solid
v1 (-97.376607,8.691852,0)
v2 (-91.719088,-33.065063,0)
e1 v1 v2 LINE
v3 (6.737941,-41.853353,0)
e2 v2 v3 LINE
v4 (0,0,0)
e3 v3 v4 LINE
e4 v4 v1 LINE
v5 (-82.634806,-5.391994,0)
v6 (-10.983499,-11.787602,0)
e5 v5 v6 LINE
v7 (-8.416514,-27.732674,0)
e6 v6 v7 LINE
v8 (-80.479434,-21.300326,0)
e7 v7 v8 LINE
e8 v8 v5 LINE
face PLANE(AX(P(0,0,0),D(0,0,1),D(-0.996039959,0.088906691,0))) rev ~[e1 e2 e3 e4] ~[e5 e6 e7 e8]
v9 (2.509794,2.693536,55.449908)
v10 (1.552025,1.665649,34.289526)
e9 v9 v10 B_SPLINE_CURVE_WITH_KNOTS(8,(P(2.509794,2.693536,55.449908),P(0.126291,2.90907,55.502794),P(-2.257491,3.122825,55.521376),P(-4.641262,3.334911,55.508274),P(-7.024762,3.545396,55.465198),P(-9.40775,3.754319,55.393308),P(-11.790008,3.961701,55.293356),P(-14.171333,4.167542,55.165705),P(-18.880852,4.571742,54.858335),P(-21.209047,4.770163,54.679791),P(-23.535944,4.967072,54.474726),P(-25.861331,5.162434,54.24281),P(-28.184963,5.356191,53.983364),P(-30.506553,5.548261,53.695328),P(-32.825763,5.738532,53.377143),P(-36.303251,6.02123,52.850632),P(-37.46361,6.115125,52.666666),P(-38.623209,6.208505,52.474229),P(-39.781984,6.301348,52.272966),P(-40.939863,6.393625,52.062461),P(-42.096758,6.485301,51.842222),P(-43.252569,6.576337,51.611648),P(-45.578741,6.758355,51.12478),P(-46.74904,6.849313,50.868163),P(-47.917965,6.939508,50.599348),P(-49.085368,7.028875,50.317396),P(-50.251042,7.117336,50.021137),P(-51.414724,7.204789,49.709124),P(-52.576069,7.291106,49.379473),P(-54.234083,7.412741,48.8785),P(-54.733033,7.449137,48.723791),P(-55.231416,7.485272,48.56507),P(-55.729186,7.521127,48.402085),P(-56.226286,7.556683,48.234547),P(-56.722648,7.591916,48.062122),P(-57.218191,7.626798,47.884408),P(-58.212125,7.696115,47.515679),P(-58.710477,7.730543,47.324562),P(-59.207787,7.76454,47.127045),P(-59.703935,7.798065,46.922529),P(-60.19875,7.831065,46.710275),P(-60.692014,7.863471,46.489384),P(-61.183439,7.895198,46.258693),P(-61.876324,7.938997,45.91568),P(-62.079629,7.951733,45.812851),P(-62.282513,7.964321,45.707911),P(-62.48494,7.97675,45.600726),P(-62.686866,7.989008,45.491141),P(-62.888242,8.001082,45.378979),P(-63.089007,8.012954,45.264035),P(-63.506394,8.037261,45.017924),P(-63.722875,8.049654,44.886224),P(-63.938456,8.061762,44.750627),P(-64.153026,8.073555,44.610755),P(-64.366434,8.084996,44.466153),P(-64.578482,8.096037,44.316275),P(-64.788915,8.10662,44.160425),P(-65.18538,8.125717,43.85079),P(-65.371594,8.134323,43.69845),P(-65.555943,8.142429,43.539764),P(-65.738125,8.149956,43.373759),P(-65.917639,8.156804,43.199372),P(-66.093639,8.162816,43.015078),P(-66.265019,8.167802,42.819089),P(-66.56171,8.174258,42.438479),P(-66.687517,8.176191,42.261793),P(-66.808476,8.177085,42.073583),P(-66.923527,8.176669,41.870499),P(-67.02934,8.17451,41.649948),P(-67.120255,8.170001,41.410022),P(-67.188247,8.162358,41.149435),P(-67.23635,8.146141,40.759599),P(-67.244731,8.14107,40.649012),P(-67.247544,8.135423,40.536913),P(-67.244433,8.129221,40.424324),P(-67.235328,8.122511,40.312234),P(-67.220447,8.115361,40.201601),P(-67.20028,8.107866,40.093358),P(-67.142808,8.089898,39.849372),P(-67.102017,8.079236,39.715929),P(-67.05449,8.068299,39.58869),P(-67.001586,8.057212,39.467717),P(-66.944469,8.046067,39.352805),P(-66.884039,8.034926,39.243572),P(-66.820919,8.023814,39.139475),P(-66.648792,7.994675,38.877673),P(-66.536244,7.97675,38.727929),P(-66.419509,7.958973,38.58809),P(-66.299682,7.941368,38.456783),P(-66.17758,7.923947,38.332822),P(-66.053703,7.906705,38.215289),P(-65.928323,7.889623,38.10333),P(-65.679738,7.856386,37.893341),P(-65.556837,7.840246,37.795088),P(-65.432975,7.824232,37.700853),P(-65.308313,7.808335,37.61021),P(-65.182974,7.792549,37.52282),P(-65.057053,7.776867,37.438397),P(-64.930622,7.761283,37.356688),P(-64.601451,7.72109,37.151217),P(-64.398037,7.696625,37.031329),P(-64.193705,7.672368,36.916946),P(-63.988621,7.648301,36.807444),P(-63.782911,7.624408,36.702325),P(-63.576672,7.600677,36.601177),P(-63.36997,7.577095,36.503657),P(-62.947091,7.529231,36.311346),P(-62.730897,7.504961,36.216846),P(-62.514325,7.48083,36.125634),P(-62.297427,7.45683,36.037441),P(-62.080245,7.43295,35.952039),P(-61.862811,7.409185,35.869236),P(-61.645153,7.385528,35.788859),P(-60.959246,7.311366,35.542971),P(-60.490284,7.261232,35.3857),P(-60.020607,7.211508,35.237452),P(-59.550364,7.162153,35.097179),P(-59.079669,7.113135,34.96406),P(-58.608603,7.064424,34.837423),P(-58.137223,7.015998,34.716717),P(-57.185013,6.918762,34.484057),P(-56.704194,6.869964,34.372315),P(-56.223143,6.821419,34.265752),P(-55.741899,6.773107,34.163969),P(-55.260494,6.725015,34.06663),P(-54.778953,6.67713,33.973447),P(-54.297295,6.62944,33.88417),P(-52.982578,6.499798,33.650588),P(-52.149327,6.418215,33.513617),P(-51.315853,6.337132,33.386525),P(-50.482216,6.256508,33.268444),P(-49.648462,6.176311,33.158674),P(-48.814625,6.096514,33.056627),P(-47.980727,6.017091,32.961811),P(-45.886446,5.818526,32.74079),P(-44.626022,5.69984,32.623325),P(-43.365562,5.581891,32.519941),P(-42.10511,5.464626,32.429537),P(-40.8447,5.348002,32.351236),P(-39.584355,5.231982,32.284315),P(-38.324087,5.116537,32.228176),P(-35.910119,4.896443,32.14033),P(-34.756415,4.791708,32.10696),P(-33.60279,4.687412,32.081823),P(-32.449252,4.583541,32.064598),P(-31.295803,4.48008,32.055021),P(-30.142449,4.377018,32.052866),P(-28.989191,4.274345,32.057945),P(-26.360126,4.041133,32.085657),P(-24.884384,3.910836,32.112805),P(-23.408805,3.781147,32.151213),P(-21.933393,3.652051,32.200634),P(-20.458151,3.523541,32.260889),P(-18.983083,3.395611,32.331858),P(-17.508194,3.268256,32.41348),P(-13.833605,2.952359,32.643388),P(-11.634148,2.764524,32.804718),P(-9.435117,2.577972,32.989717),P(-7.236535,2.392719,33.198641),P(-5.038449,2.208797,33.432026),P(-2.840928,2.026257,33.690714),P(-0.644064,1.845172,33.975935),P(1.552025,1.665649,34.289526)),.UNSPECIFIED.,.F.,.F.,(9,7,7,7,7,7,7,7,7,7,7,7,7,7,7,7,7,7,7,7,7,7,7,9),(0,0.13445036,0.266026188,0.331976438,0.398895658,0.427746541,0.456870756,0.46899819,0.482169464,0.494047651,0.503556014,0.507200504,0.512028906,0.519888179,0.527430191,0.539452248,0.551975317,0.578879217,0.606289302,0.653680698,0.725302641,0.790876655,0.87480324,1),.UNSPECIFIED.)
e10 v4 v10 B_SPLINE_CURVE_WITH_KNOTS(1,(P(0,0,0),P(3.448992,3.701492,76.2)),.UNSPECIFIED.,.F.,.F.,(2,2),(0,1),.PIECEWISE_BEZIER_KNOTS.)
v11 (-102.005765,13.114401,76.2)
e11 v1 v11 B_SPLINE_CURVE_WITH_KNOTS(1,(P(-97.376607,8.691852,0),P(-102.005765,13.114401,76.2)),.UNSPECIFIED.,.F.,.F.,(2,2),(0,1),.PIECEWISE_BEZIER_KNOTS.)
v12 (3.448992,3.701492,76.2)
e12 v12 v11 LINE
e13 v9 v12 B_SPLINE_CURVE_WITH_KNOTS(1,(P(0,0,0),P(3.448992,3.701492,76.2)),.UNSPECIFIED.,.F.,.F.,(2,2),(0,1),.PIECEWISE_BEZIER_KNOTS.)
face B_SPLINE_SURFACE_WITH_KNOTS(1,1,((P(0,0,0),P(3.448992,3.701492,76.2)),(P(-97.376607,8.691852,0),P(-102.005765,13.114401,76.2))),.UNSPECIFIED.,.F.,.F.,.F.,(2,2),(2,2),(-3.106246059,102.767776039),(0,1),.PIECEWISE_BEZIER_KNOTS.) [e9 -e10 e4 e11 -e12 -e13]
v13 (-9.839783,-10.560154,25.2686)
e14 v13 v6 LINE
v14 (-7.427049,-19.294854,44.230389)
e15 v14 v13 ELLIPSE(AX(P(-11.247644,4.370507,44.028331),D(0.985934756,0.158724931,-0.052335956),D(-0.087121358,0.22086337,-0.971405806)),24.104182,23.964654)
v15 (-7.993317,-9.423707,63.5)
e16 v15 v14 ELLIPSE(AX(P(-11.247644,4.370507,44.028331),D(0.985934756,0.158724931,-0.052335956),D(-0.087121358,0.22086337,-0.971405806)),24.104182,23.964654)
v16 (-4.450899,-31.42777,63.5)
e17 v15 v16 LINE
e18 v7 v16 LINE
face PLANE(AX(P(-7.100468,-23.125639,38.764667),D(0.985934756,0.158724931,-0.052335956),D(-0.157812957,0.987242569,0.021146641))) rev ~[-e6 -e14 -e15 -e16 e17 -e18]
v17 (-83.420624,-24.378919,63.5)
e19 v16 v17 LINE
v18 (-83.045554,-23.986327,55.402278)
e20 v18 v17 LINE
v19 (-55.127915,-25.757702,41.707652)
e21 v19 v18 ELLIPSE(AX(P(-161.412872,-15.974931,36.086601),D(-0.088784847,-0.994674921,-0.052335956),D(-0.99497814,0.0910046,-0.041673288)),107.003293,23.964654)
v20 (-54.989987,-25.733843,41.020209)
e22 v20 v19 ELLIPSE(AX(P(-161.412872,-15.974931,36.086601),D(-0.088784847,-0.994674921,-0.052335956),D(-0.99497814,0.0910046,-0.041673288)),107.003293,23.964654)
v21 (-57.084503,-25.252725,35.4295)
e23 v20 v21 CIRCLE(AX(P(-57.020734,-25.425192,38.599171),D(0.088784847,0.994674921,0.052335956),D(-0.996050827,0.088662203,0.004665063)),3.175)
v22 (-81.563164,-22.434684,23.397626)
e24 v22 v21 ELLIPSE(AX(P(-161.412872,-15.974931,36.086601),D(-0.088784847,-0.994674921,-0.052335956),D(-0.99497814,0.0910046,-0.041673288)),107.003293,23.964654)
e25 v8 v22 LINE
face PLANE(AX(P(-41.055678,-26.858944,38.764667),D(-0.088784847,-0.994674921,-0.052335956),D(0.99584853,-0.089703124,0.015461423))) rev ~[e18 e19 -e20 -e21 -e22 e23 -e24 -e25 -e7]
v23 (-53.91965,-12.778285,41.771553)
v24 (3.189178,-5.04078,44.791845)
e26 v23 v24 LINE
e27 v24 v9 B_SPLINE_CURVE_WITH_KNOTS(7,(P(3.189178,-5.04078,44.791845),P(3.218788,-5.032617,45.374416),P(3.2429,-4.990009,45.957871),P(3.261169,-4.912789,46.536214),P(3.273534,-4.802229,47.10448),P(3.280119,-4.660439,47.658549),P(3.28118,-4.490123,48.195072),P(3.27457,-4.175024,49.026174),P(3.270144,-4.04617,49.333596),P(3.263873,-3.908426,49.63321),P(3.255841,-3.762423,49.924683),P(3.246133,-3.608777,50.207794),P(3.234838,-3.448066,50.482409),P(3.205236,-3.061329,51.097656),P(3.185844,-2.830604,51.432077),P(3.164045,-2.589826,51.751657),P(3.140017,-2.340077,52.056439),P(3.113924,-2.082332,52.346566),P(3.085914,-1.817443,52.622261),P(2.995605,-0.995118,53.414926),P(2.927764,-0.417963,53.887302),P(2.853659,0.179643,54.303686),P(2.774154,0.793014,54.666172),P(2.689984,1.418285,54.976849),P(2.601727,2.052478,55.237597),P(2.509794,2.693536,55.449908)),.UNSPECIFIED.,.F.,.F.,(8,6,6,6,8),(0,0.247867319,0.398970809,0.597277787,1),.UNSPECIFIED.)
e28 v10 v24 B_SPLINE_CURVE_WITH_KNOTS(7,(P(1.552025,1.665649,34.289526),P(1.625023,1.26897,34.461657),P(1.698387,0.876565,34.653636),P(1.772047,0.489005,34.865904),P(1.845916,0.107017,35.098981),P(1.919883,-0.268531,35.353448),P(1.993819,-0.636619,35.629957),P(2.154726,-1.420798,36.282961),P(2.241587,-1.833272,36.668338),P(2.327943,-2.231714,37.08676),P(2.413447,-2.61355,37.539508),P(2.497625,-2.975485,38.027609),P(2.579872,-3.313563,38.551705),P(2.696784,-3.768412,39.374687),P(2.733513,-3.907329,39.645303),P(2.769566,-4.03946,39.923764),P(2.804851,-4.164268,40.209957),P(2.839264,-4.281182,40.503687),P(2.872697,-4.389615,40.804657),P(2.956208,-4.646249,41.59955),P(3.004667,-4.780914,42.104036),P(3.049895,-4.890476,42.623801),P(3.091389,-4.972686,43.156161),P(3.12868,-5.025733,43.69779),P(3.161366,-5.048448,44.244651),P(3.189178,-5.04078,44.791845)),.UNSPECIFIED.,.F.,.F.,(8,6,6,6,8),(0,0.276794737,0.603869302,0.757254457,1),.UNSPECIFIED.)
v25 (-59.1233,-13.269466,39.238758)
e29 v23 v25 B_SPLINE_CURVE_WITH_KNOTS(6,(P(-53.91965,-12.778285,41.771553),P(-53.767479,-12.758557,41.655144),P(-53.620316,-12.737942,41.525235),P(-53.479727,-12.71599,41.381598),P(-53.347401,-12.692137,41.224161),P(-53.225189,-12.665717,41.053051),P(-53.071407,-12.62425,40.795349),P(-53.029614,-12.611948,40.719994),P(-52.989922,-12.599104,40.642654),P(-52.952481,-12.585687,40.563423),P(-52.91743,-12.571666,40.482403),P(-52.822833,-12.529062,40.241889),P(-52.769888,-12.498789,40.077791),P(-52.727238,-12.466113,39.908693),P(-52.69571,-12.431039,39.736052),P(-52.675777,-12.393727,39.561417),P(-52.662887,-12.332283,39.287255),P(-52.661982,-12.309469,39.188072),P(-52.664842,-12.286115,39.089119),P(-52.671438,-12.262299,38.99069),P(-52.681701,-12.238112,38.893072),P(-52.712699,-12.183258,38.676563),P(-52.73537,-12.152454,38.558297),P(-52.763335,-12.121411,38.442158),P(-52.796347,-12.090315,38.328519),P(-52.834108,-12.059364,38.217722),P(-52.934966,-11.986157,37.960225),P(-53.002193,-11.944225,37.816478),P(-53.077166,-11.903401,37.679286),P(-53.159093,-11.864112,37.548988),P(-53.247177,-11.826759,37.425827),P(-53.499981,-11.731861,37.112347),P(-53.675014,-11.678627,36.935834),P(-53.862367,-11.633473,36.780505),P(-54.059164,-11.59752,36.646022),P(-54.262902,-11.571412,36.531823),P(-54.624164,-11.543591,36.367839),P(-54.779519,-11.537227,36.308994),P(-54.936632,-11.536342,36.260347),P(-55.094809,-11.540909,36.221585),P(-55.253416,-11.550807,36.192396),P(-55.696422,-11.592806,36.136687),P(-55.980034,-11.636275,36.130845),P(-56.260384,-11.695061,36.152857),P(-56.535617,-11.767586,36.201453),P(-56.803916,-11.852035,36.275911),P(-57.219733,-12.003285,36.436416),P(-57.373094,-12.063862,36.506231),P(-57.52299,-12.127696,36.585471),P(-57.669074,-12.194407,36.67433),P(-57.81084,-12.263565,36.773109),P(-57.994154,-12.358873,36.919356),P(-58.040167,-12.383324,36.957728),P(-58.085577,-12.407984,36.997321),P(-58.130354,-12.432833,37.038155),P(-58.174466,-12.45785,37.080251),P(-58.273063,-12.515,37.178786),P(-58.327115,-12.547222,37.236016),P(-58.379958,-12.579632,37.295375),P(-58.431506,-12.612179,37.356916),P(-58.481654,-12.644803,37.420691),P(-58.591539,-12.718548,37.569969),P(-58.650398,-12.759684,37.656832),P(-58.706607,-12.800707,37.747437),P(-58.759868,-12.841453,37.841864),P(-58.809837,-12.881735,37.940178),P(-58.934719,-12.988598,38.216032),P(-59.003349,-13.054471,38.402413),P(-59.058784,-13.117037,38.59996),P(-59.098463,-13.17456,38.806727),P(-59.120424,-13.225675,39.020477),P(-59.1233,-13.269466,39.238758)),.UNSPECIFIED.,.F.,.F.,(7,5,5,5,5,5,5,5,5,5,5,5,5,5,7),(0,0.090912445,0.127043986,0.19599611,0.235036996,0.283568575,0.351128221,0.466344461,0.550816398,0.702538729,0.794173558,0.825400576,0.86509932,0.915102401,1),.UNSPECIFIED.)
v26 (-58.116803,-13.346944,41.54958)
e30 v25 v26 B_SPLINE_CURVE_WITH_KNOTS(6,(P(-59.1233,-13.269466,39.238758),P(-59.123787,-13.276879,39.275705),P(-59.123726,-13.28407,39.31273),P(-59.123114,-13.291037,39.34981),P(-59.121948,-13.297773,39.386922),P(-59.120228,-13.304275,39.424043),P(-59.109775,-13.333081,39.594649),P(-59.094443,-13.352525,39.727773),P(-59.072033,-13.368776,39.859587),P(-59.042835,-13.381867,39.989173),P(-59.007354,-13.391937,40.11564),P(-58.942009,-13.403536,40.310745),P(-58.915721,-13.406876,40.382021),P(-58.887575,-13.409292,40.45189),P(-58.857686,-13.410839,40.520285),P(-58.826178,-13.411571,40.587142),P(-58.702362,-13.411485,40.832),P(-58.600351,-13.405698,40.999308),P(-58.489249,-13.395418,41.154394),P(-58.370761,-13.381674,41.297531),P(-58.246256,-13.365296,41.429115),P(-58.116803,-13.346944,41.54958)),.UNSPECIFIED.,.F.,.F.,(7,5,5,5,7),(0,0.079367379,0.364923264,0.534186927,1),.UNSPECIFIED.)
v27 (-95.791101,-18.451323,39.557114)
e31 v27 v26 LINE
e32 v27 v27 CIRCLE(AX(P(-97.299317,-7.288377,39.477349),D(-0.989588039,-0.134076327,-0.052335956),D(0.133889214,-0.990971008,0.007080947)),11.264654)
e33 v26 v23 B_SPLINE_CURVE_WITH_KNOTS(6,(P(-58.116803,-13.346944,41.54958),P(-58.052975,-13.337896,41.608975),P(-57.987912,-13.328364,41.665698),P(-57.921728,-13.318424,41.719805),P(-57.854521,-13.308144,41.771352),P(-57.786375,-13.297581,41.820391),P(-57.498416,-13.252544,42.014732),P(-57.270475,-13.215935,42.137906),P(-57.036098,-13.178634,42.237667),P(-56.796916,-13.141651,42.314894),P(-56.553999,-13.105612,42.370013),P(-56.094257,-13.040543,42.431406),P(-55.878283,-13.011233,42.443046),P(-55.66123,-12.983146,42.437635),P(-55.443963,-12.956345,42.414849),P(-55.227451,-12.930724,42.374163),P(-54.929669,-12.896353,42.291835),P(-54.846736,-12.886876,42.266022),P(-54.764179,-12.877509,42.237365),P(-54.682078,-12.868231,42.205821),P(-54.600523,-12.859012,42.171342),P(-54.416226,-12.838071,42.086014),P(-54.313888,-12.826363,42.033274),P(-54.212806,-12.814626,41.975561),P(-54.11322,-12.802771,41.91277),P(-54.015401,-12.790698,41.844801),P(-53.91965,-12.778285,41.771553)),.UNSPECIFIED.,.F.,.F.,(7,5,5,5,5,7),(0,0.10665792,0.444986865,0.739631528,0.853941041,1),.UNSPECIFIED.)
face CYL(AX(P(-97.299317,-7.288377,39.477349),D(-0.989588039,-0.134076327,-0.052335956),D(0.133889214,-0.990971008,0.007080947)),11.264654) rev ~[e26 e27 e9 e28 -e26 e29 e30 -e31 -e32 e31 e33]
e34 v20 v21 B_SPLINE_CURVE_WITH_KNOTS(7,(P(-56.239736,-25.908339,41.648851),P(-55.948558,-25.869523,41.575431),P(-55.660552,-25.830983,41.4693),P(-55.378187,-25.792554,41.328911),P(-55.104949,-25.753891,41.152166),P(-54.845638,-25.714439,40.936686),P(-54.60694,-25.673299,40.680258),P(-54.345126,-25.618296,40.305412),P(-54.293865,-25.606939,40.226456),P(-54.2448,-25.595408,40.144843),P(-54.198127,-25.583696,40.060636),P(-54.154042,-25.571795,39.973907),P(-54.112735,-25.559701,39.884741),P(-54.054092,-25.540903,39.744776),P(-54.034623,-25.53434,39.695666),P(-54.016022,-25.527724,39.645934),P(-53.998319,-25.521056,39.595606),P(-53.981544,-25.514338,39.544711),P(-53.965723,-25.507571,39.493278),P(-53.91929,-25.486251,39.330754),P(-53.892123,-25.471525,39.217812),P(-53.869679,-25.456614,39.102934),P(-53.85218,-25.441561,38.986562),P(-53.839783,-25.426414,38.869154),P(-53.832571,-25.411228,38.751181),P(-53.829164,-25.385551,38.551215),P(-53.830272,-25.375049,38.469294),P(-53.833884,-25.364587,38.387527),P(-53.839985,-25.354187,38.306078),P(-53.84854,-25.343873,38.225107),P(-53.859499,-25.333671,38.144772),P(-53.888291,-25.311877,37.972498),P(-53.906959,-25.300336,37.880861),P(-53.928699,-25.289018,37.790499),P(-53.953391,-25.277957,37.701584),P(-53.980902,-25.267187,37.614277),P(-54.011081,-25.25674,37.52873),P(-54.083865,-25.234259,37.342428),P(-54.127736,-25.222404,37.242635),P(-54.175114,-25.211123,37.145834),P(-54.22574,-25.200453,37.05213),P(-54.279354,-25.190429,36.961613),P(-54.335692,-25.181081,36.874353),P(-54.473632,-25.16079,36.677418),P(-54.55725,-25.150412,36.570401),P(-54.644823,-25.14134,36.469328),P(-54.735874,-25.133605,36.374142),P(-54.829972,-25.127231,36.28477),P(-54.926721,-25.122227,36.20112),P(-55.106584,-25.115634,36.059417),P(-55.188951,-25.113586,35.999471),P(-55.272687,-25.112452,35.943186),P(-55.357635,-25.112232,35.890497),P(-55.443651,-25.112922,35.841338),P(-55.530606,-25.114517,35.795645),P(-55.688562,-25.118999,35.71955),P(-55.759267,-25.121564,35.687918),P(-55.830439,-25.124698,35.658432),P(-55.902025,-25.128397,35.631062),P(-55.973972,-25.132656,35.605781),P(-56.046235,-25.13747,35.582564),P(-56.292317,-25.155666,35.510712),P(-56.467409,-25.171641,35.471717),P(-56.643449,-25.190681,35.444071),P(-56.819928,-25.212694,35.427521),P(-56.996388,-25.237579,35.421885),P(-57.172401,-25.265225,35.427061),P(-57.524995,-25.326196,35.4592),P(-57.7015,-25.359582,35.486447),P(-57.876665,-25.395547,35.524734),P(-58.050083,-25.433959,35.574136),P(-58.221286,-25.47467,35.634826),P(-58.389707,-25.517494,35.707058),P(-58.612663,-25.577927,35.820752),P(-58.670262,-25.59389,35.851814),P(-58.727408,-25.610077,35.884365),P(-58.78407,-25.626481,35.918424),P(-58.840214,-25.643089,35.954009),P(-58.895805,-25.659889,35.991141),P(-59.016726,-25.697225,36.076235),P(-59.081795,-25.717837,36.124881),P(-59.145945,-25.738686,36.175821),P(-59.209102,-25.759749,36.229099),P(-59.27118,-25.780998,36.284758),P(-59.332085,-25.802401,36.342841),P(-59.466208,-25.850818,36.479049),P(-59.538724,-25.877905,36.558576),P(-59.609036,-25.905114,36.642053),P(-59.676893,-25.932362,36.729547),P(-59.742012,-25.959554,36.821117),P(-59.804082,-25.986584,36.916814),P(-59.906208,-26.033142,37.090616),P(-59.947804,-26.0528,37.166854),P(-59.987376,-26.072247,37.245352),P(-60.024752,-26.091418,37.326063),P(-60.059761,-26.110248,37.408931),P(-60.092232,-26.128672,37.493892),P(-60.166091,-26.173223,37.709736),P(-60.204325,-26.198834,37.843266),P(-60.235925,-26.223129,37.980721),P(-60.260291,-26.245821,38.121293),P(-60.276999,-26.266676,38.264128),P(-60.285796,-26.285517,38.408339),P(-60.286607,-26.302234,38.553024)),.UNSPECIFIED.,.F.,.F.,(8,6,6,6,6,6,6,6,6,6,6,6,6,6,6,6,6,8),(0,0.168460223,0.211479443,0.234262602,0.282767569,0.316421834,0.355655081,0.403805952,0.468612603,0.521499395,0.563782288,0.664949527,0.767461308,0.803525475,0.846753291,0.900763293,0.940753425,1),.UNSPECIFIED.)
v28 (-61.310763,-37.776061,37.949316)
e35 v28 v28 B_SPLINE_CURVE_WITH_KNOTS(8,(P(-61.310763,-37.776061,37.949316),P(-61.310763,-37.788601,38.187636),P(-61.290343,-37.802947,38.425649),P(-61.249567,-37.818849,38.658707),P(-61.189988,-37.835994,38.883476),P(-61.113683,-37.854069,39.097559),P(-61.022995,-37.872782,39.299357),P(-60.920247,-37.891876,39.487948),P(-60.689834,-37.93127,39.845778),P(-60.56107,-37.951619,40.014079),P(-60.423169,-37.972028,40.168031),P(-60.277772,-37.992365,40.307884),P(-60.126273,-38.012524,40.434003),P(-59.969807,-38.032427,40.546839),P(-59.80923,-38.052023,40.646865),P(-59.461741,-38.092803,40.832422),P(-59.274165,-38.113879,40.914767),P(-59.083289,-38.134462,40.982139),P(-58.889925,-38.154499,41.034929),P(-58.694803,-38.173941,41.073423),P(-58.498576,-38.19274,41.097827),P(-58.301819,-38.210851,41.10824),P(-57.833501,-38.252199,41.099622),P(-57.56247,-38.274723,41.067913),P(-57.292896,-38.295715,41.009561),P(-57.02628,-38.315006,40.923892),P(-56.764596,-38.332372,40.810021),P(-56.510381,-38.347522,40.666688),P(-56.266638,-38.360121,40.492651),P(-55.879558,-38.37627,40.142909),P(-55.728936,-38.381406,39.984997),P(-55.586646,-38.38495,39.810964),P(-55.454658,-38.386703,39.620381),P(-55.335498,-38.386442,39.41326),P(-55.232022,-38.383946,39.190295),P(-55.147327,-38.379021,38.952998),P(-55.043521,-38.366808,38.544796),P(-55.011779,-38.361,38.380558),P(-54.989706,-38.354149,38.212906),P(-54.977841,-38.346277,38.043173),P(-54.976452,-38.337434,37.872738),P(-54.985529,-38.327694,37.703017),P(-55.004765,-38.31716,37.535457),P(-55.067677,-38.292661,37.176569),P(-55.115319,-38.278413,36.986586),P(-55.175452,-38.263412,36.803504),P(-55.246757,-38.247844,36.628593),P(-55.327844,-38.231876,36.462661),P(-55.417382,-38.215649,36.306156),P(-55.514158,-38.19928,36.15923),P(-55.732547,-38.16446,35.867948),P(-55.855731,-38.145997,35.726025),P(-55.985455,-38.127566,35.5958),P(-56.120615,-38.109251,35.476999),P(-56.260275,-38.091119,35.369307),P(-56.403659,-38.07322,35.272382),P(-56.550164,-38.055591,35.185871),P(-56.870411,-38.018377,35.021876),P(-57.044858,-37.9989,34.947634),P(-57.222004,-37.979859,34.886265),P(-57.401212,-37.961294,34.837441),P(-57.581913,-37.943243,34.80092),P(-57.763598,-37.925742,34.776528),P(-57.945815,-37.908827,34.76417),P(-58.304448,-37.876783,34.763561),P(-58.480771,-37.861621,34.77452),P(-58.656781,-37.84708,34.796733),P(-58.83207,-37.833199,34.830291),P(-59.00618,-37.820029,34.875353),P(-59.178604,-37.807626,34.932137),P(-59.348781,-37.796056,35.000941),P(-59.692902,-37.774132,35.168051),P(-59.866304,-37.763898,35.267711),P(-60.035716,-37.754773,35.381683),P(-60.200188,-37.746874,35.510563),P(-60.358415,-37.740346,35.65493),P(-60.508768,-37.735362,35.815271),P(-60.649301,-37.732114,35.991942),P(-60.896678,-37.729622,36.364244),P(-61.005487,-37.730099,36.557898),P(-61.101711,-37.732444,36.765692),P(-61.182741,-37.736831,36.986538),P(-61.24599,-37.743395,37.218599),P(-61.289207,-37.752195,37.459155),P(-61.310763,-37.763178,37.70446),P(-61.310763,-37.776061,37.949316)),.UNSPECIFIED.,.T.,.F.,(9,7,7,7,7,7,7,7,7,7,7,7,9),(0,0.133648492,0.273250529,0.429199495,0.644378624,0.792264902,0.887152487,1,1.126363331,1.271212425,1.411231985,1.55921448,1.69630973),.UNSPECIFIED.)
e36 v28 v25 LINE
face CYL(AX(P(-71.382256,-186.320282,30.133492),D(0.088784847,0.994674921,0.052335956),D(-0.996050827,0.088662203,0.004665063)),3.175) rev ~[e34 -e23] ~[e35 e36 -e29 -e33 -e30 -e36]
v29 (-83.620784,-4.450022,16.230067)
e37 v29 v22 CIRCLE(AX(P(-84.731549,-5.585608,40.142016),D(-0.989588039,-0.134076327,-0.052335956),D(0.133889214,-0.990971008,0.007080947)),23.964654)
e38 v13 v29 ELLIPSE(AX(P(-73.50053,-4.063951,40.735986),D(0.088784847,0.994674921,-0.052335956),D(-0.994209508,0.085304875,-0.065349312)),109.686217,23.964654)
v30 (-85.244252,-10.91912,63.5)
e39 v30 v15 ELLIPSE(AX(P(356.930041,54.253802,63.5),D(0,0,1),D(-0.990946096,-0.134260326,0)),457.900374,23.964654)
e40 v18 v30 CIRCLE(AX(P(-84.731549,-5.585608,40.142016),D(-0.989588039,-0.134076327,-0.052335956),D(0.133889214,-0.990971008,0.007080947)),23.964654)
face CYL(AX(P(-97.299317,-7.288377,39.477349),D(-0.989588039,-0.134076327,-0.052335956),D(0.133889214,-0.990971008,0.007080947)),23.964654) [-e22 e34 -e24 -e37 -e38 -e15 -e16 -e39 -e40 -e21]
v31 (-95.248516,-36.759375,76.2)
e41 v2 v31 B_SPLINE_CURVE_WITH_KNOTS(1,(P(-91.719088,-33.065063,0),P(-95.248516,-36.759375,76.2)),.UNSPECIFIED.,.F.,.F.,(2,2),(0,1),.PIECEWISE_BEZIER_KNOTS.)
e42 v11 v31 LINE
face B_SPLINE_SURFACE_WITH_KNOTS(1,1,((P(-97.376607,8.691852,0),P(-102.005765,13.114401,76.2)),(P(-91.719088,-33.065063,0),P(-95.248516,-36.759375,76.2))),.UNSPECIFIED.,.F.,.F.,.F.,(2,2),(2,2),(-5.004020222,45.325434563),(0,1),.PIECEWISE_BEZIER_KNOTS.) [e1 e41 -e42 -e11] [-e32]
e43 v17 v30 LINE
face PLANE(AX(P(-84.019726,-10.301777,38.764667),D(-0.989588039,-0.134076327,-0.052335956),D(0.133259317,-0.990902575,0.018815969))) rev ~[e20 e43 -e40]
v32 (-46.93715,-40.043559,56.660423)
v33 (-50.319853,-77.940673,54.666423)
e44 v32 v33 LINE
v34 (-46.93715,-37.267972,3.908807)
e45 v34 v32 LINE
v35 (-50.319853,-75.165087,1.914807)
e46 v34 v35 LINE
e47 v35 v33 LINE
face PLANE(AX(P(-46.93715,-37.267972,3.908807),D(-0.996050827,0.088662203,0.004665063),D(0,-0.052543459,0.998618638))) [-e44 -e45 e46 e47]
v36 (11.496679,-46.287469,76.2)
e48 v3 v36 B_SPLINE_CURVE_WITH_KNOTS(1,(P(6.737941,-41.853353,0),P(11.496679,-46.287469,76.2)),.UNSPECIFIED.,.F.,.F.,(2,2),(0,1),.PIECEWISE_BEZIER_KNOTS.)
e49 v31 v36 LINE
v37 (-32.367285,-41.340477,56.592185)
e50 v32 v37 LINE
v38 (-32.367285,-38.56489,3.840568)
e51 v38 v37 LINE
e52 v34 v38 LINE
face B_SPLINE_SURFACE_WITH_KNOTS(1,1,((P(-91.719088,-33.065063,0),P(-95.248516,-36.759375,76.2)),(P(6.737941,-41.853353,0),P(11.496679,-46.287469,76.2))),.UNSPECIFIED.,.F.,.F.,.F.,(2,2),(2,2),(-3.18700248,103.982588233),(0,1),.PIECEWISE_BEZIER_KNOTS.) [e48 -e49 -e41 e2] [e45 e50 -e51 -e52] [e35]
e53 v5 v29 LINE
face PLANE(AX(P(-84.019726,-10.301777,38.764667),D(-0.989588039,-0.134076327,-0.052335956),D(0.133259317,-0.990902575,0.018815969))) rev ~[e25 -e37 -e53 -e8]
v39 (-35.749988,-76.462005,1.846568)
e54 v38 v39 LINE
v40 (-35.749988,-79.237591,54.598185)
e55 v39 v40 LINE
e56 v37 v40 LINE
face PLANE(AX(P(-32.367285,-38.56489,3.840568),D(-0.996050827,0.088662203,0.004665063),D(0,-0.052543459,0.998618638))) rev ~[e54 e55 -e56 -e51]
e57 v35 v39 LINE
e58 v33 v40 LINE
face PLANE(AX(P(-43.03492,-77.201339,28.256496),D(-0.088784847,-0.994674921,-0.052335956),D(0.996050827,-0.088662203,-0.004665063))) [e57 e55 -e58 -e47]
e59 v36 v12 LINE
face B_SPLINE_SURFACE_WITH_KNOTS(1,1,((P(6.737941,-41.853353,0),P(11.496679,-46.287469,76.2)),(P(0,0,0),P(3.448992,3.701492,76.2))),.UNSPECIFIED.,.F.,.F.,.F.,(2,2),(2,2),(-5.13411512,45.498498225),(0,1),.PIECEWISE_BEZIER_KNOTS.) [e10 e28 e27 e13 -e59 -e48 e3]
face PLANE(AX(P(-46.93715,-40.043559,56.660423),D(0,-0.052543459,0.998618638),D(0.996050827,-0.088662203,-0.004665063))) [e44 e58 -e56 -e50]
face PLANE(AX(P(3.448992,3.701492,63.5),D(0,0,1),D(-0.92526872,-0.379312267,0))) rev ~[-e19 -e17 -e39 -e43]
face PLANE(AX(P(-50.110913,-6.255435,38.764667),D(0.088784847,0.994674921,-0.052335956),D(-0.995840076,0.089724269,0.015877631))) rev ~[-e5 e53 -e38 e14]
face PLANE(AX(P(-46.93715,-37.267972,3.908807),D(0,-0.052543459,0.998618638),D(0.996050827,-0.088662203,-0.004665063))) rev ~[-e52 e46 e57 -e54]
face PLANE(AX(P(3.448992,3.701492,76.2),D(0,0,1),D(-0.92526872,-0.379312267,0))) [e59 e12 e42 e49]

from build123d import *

# Parameters (mm, degrees)
F1_DEPTH = 76.2
F1_TAPER = -3
F2_R     = 11.2646539413
F3_DEPTH = 127
F4_T     = -12.7
F5_D     = 6.35
F6_W     = 14.6276317537
F6_H     = 52.8245866299
F8_DEPTH = 38.1


with BuildPart() as f1:
    # F0 (on Top) → F1 (new body)
    with BuildSketch(Plane.XY):
        Polygon((0, 0), (-97.3766073585, 8.691851981), (-91.719087719, -33.0650627753), (6.7379414104, -41.8533533812), align=None)
    extrude(amount=F1_DEPTH, taper=F1_TAPER)

    # F2 (on face) → F3 (cut)
    with BuildSketch(Plane(origin=(-94.2061631176, -12.7637116177, -4.9822445688), x_dir=(0.1338892143, -0.9909710079, 0.0070809466), z_dir=(-0.9895880386, -0.1340763271, -0.0523359562))):
        with Locations((-5.5252215825, 44.5609055459)):
            Circle(F2_R)
    extrude(amount=-F3_DEPTH, mode=Mode.SUBTRACT)

    # F4
    f4_openings = [f1.faces().sort_by_distance(p)[0] for p in [
        (-45.58374, -16.595081, 0),
    ]]
    offset(amount=F4_T, openings=f4_openings)

    # F5 (through all)
    with Locations(Plane(origin=(-3.6430423813, -40.8137538844, -2.1474622433), x_dir=(0.9960508275, -0.088662203, -0.004665063), z_dir=(-0.088784847, -0.9946749211, -0.0523359562))):
        with Locations((-54.7213628888, 39.8817788885)):
            Hole(F5_D / 2)

    # F6 (on face) → F8 (join)
    with BuildSketch(Plane(origin=(-3.6430423813, -40.8137538844, -2.1474622433), x_dir=(0.9960508275, -0.088662203, -0.004665063), z_dir=(-0.088784847, -0.9946749211, -0.0523359562))):
        with Locations((-36.151945591, 32.273888588)):
            Rectangle(F6_W, F6_H)
    extrude(amount=F8_DEPTH)


solid = f1.part
